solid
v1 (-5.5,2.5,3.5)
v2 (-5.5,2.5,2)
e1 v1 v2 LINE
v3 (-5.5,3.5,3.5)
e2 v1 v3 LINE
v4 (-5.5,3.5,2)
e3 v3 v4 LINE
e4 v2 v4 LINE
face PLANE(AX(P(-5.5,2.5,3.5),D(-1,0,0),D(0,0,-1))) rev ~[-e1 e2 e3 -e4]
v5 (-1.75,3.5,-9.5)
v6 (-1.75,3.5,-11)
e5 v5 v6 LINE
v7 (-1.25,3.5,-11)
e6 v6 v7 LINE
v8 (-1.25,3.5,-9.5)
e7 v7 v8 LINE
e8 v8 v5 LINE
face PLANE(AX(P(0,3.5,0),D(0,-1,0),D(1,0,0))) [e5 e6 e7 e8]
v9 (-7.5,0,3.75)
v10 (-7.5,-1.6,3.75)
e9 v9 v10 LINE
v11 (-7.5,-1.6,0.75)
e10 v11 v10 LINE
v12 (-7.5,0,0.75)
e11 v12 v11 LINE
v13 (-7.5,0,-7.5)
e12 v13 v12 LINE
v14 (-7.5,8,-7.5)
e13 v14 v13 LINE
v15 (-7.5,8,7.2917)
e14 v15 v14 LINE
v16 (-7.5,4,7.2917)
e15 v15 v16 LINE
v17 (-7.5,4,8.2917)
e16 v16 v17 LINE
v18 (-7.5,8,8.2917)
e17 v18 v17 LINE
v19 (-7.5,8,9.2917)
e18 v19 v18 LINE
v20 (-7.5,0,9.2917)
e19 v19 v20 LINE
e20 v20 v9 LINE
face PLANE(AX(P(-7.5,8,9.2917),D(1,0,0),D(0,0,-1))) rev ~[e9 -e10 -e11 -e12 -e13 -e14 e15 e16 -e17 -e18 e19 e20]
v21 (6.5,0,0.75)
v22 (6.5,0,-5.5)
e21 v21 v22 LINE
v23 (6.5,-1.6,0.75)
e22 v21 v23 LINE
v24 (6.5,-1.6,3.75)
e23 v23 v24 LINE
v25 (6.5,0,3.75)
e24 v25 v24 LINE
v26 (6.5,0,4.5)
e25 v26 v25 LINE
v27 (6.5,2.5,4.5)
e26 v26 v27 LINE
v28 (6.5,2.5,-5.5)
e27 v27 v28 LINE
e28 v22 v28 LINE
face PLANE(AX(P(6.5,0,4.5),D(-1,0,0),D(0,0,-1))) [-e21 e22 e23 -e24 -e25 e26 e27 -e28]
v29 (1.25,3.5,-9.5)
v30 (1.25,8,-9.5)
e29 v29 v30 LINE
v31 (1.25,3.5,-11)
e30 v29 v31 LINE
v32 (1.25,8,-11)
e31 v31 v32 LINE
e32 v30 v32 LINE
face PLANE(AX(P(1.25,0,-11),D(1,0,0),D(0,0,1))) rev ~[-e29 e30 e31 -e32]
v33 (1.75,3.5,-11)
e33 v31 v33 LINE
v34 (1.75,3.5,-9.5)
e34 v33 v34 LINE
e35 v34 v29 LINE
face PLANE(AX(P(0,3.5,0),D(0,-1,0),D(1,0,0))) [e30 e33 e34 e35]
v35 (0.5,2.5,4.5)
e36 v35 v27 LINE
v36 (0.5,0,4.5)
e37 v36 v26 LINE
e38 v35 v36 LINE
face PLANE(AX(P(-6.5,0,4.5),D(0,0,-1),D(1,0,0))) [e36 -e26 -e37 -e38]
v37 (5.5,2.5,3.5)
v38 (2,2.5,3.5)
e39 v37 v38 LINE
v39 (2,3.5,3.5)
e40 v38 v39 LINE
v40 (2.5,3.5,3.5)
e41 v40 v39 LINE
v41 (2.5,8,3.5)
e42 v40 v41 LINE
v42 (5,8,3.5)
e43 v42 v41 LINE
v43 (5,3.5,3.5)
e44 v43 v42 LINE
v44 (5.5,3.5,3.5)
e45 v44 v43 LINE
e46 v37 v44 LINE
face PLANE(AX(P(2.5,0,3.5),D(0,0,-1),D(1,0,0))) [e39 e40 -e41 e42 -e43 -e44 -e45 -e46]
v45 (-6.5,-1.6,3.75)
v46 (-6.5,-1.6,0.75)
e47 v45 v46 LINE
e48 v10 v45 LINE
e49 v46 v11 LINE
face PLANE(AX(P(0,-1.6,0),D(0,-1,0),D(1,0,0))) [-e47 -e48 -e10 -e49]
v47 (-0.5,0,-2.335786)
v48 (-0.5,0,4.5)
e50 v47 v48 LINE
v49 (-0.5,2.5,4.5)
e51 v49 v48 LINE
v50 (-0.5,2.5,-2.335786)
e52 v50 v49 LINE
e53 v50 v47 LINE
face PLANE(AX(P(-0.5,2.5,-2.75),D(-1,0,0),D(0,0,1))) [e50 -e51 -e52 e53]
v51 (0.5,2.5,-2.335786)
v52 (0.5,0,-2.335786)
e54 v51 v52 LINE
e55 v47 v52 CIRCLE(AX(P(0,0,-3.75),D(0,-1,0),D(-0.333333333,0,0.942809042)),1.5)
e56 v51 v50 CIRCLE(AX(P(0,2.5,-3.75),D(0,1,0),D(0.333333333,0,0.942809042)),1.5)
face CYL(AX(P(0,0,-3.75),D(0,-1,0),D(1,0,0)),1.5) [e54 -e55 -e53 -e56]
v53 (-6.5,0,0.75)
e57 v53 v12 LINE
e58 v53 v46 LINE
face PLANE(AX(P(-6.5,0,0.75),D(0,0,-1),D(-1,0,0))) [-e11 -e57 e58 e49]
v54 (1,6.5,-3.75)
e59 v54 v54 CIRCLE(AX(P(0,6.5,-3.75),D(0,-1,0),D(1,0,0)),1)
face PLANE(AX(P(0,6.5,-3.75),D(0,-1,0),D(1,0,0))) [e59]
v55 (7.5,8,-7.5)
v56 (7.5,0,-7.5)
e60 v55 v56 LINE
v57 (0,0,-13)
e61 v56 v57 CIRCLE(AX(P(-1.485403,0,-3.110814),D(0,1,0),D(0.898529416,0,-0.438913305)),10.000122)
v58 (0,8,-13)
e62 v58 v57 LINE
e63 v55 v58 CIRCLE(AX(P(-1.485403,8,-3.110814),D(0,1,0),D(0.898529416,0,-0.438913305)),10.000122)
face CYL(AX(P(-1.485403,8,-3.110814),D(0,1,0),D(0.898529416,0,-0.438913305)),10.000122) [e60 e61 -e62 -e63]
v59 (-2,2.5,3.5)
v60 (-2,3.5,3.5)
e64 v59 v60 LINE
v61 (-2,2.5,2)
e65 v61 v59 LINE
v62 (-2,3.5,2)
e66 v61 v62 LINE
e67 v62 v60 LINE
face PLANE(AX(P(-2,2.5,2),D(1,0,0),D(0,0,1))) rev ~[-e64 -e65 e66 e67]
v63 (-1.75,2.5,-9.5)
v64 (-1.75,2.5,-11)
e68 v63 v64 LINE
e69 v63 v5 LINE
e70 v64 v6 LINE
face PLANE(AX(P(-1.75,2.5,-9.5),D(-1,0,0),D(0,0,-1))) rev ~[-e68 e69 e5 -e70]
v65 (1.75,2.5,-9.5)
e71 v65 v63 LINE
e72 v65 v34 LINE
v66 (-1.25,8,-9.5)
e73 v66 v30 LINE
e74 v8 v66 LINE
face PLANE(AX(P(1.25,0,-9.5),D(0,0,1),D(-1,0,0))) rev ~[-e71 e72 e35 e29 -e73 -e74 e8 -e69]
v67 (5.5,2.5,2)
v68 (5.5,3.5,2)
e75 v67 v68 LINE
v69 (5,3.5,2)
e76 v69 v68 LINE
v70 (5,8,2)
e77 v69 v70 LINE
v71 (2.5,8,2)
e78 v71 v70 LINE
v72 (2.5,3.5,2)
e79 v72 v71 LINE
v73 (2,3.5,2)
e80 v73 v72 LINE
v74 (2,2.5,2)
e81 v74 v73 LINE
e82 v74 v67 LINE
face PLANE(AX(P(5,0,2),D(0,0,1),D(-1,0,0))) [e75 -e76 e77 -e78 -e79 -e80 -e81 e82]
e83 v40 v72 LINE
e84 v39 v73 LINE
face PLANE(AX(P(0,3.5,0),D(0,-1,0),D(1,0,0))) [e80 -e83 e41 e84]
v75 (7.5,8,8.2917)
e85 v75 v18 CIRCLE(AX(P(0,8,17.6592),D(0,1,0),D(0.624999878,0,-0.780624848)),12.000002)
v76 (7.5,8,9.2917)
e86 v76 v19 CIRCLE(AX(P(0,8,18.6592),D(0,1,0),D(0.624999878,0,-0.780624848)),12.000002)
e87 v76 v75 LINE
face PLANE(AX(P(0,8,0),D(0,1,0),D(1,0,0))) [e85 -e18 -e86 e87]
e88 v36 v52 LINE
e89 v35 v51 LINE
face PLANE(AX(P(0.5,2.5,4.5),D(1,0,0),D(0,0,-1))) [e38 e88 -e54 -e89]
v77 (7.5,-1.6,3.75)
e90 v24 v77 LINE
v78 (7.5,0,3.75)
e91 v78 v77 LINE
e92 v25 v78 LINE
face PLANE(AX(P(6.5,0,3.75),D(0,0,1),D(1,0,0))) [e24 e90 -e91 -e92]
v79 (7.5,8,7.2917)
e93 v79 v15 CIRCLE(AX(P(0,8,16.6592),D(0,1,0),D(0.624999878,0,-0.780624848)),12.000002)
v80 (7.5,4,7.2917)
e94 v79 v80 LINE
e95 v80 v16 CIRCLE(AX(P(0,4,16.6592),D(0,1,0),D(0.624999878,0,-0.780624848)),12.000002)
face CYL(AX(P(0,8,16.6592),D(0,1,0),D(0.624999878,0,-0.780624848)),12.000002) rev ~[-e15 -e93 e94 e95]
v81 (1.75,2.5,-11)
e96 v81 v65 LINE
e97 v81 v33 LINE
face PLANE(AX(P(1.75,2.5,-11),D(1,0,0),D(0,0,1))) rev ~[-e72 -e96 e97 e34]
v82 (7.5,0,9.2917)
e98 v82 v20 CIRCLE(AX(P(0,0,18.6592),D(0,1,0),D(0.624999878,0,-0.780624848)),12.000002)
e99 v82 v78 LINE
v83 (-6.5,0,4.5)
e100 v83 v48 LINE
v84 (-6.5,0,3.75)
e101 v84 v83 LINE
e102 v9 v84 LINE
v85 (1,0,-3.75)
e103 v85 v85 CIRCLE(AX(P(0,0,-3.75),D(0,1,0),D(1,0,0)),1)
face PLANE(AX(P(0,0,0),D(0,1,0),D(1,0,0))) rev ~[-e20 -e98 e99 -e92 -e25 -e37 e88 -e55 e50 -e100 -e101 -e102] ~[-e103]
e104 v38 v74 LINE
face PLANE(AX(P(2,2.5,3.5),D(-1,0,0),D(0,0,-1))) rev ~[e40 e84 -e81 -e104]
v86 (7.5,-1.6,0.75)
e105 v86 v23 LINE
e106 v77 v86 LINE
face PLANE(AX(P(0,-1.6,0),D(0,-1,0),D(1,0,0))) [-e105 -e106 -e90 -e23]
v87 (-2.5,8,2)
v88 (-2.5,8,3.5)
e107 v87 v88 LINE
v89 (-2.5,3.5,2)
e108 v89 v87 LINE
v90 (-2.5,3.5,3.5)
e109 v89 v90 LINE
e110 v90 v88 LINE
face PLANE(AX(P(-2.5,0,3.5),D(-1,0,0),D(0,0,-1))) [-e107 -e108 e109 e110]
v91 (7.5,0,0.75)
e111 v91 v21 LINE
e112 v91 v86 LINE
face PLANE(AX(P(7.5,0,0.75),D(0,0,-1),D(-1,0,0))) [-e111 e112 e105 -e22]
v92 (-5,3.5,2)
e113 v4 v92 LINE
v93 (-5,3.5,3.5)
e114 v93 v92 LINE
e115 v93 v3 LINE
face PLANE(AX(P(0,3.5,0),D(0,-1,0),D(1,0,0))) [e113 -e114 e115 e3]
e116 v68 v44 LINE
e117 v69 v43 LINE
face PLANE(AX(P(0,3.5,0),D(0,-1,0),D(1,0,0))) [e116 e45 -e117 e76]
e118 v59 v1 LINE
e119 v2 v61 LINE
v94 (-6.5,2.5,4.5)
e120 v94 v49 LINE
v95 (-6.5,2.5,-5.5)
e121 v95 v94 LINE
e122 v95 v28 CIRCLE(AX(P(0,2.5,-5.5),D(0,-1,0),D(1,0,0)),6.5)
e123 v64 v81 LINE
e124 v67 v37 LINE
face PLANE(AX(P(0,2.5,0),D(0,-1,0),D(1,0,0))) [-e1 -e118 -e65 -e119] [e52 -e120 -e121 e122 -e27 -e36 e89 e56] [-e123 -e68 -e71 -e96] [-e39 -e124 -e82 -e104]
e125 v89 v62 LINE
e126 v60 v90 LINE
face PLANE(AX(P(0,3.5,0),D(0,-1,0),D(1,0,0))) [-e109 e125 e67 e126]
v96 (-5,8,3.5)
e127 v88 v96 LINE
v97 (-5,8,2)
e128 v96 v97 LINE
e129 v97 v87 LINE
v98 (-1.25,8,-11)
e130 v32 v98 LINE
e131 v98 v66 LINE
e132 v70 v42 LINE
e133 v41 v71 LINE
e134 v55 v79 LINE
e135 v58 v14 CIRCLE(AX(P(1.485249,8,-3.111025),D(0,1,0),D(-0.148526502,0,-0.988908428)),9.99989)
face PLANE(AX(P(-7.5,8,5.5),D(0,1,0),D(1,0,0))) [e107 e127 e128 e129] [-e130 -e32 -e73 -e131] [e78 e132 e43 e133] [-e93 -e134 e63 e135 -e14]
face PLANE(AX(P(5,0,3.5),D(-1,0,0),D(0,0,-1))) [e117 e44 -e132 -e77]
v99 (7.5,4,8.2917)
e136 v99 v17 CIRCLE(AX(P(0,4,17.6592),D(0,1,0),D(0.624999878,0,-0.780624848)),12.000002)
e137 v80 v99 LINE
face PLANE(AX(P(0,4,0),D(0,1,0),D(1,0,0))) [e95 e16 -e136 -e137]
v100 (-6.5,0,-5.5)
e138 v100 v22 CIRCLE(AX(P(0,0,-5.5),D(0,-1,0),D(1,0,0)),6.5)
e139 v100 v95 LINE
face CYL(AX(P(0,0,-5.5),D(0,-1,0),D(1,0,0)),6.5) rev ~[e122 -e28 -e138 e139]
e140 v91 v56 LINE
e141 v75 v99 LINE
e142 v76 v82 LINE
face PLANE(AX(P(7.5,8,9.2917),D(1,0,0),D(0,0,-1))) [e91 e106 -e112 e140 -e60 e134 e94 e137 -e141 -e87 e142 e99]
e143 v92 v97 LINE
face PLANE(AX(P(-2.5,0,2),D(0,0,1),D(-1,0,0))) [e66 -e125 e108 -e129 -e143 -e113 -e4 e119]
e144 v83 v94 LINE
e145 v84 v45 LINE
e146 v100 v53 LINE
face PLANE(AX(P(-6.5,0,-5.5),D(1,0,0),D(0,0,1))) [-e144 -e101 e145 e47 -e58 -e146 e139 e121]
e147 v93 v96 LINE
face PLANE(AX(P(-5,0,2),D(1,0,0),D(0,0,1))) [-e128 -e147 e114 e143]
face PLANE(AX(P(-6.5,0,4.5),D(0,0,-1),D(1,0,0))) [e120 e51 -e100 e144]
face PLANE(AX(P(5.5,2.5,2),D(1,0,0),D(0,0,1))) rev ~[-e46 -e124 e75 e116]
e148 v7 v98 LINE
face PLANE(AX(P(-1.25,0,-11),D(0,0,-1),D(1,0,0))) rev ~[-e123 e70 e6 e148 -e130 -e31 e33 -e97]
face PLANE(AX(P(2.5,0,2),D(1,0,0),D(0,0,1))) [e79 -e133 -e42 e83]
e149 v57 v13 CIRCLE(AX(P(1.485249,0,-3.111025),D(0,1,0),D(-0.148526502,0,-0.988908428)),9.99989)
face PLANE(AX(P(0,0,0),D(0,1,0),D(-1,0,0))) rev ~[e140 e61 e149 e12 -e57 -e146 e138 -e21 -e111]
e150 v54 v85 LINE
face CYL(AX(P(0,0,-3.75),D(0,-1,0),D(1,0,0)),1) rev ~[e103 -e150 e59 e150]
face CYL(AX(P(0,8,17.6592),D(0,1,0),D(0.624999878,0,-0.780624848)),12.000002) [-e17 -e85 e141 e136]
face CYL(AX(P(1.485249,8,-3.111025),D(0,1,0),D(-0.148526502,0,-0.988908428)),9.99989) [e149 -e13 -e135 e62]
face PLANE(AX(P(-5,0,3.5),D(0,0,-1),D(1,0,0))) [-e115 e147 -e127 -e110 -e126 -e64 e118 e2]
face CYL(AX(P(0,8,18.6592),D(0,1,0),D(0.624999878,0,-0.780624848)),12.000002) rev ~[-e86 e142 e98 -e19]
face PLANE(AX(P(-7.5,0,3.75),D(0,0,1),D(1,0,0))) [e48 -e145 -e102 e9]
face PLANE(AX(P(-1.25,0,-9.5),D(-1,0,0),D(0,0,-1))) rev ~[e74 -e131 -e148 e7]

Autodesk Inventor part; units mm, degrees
ref_plane "YZ Plane" through (0, 0, 0) normal (1, 0, 0) x (0, 1, 0)
ref_plane "XZ Plane" through (0, 0, 0) normal (0, 1, 0) x (-1, 0, 0)
ref_plane "XY Plane" through (0, 0, 0) normal (0, 0, 1) x (1, 0, 0)
sketch "Sketch1" plane through (0, 0, 0) normal (0, 1, 0) x (-1, 0, 0)
  line L0 (-7.5, 5.5) -> (7.5, 5.5)
  line L1 (7.5, 5.5) -> (7.5, -5.5)
  line L2 (7.5, -5.5) -> (-7.5, -5.5)
  line L3 (-7.5, -5.5) -> (-7.5, 5.5)
  line L4 (-7.5, 5.5) -> (7.5, -5.5) construction
  line L5 (7.5, 5.5) -> (-7.5, -5.5) construction
  circle A0 centre (0, -5.5) radius 7.5 construction
  arc A1 (-7.5, -5.5) -> (7.5, -5.5) centre (0, -5.5) ccw
  point P0 (0, 0)
  dimension "d0" = 11
  dimension "d1" = 15
extrude "Extrusion1" add sketch "Sketch1" along normal blind 8
sketch "Sketch2" plane through (0, 0, 0) normal (0, -1, 0) x (1, 0, 0)
  line L0 (7.5, 9.25) -> (-7.5, 9.25)
  line L1 (-7.5, 9.25) -> (-7.5, -20.75)
  line L2 (-7.5, -20.75) -> (7.5, -20.75)
  line L3 (7.5, -20.75) -> (7.5, 9.25)
  line L4 (7.5, 9.25) -> (-7.5, -20.75) construction
  line L5 (-7.5, 9.25) -> (7.5, -20.75) construction
  line L6 (-7.5, 5.5) -> (7.5, 5.5) projected
  line L7 (7, 8.75) -> (-7, 8.75) construction
  line L8 (-7, 8.75) -> (-7, -20.25) construction
  line L9 (-7, -20.25) -> (7, -20.25) construction
  line L10 (7, -20.25) -> (7, 8.75) construction
  line L11 (7, 8.75) -> (-7, -20.25) construction
  line L12 (-7, 8.75) -> (7, -20.25) construction
  point P0 (0, 0)
  point P1 (0, -5.75)
  dimension "d4" = 15
  dimension "d5" = 30
  dimension "d6" = 3.75
  dimension "d18" = 0.5
  dimension "d19" = 0.5
sketch "Sketch4" plane through (0, 0, 0) normal (0, -1, 0) x (1, 0, 0)
  line L0 (-7.5, -5.5) -> (-7.5, 5.5) projected
  line L1 (-7.5, 3.75) -> (-6.5, 3.75)
  line L2 (-6.5, 3.75) -> (-6.5, 0.75)
  line L3 (-6.5, 0.75) -> (-7.5, 0.75)
  line L4 (-7.5, 0.75) -> (-7.5, 3.75)
  line L5 (7.5, 5.5) -> (7.5, -5.5) projected
  line L6 (7.5, 0.75) -> (6.5, 0.75)
  line L7 (6.5, 0.75) -> (6.5, 3.75)
  line L8 (6.5, 3.75) -> (7.5, 3.75)
  line L9 (7.5, 3.75) -> (7.5, 0.75)
  line L10 (-7.5, -20.25) -> (7.5, -20.25) construction
  line L11 (7.5, -20.25) -> (7.5, 9.75) construction
  line L12 (7.5, 9.75) -> (-7.5, 9.75) construction
  line L13 (-7.5, 9.75) -> (-7.5, -20.25) construction
  line L14 (-7.5, -20.25) -> (7.5, 9.75) construction
  line L15 (7.5, -20.25) -> (-7.5, 9.75) construction
  line L16 (-7.5, 5.5) -> (7.5, 5.5) construction
  arc A0 (-7.5, -5.5) -> (7.5, -5.5) centre (0, -5.5) ccw construction
  point P0 (0, 0)
  point P1 (0, -5.25)
  point P2 (0, -13)
  point P3 (-7, 3.75)
  point P4 (-7.5, 0.75)
  point P5 (-7, 0.75)
  point P6 (7.5, 3.75)
  point P7 (-7.5, 0.75)
  dimension "d20" = 1
  dimension "d21" = 3
  dimension "d22" = 1
  dimension "d23" = 3
  dimension "d24" = 15
  dimension "d25" = 30
  dimension "d27" = 7.25
  dimension "d106" = 0.75
extrude "Extrusion3" add sketch "Sketch4" along normal blind 1.6
sketch "Sketch6" plane through (0, 0, 0) normal (0, -1, 0) x (1, 0, 0)
  line L0 (7.5, 11.25) -> (-7.5, 11.25)
  line L1 (-7.5, 11.25) -> (-7.5, -18.75)
  line L2 (-7.5, -18.75) -> (7.5, -18.75)
  line L3 (7.5, -18.75) -> (7.5, 11.25)
  line L4 (7.5, 11.25) -> (-7.5, -18.75) construction
  line L5 (-7.5, 11.25) -> (7.5, -18.75) construction
  line L6 (7, 10.75) -> (-7, 10.75) construction
  line L7 (-7, 10.75) -> (-7, -18.25) construction
  line L8 (-7, -18.25) -> (7, -18.25) construction
  line L9 (7, -18.25) -> (7, 10.75) construction
  line L10 (7, 10.75) -> (-7, -18.25) construction
  line L11 (-7, 10.75) -> (7, -18.25) construction
  circle A0 centre (0, -3.75) radius 1
  circle A1 centre (0, -3.75) radius 1.5
  line L12 (-6.5, 4.5) -> (6.5, 4.5)
  line L13 (6.5, 4.5) -> (6.5, -5.5)
  line L14 (6.5, -5.5) -> (-6.5, -5.5)
  line L15 (-6.5, -5.5) -> (-6.5, 4.5)
  line L16 (-7.5, 5.5) -> (7.5, 5.5) projected
  arc A2 (-7.5, -5.5) -> (7.5, -5.5) centre (0, -5.5) ccw projected
  circle A3 centre (0, -5.5) radius 6.5
  point P0 (0, 0)
  point P1 (-7.5, -3.75)
  point P2 (6.5, -5.5)
  dimension "d31" = 15
  dimension "d32" = 30
  dimension "d34" = 0.5
  dimension "d35" = 0.5
  dimension "d36" = 2
  dimension "d37" = 0.5
  dimension "d38" = 1
  dimension "d39" = 1
  dimension "d40" = 1
  dimension "d41" = 1
  dimension "d107" = 3.75
extrude "Extrusion4" cut sketch "Sketch6" against normal blind 2.5 contours A0 | L12 L13 A3 L15 | A3 L14 | L14 A3
sketch "Sketch10" plane through (0, 8, 0) normal (0, 1, 0) x (1, 0, 0)
  point P0 (0, 0)
sketch "Sketch11" plane through (0, 0, 0) normal (0, -1, 0) x (1, 0, 0)
  line L0 (-5, 3.5) -> (-2.5, 3.5)
  line L1 (-2.5, 3.5) -> (-2.5, 2)
  line L2 (-2.5, 2) -> (-5, 2)
  line L3 (-5, 2) -> (-5, 3.5)
  line L4 (2.5, 3.5) -> (5, 3.5)
  line L5 (5, 3.5) -> (5, 2)
  line L6 (5, 2) -> (2.5, 2)
  line L7 (2.5, 2) -> (2.5, 3.5)
  line L8 (-6.5, 3.75) -> (-7.5, 3.75) projected
  line L9 (-6.5, 0.75) -> (-6.5, 3.75) projected
  line L10 (6.5, 3.75) -> (6.5, 0.75) projected
  line L11 (-6.5, 4.5) -> (6.5, 4.5) projected
  line L12 (-1.25, -11) -> (1.25, -11)
  line L13 (1.25, -11) -> (1.25, -9.5)
  line L14 (1.25, -9.5) -> (-1.25, -9.5)
  line L15 (-1.25, -9.5) -> (-1.25, -11)
  circle A0 centre (0, -3.75) radius 1 projected
  point P0 (0, 0)
  point P1 (-3.75, 3.5)
  point P2 (3.75, 3.5)
  point P3 (1.25, -10.25)
  point P4 (2.5, 2.75)
  point P5 (0, -9.5)
  point P6 (3.75, 2)
  point P7 (-2.5, 2.75)
  dimension "d51" = 2.5
  dimension "d52" = 1.5
  dimension "d55" = 2.75
  dimension "d56" = 2.75
  dimension "d60" = 13
  dimension "d61" = 3.75
  dimension "d62" = 3.75
  dimension "d103" = 6.5
  dimension "d104" = 6.5
extrude "Extrusion8" cut sketch "Sketch11" against normal blind 10 contours L0 L1 L2 L3 | L4 L5 L6 L7 | L15 L14 L13 L12
sketch "Sketch12" plane through (0, 2.5, 0) normal (0, -1, 0) x (1, 0, 0)
  line L0 (5, 2) -> (5, 3.5) construction
  line L1 (2.5, 2) -> (5, 2) construction
  line L2 (5, 3.5) -> (2.5, 3.5) construction
  line L3 (2.5, 3.5) -> (2.5, 2) construction
  line L4 (2.5, 2) -> (5, 2) construction
  line L5 (5, 2) -> (5, 3.5) construction
  line L6 (-2.5, 2) -> (-2.5, 3.5) construction
  line L7 (-2.5, 2) -> (-5, 2) construction
  line L8 (-2.5, 3.5) -> (-5, 3.5) construction
  line L9 (-5, 3.5) -> (-5, 2) construction
  line L10 (-5, 2) -> (-2.5, 2) construction
  line L11 (-2.5, 2) -> (-2.5, 3.5) construction
  line L12 (-1.25, -9.5) -> (1.25, -9.5) construction
  line L13 (-1.25, -9.5) -> (-1.25, -11) construction
  line L14 (1.25, -9.5) -> (-1.25, -9.5) construction
  line L15 (-1.25, -9.5) -> (-1.25, -11) construction
  line L16 (-1.25, -11) -> (1.25, -11) construction
  line L17 (1.25, -11) -> (1.25, -9.5) construction
  line L18 (5.5, 3.5) -> (2, 3.5)
  line L19 (2, 3.5) -> (2, 2)
  line L20 (2, 2) -> (5.5, 2)
  line L21 (5.5, 2) -> (5.5, 3.5)
  line L22 (1.75, -9.5) -> (-1.75, -9.5)
  line L23 (-1.75, -9.5) -> (-1.75, -11)
  line L24 (-1.75, -11) -> (1.75, -11)
  line L25 (1.75, -11) -> (1.75, -9.5)
  line L26 (-2, 3.5) -> (-5.5, 3.5)
  line L27 (-5.5, 3.5) -> (-5.5, 2)
  line L28 (-5.5, 2) -> (-2, 2)
  line L29 (-2, 2) -> (-2, 3.5)
  point P0 (0, 0)
  point P1 (-2.5, 2.75)
  point P2 (-2, 2.75)
  point P3 (-3.75, 2)
  point P4 (-3.75, 2)
  point P5 (-3.75, 3.5)
  point P6 (-3.75, 3.5)
  point P7 (-5, 2.75)
  point P8 (-5.5, 2.75)
  point P9 (1.25, -10.25)
  point P10 (1.75, -10.25)
  point P11 (0, -11)
  point P12 (-1.25, -10.25)
  dimension "d63" = 0.5
  dimension "d64" = 0
  dimension "d65" = 0
  dimension "d67" = 0.5
  dimension "d68" = 0
  dimension "d69" = 0
  dimension "d70" = 0.5
  dimension "d71" = 0.5
  dimension "d72" = 0
  dimension "d73" = 0
  dimension "d74" = 0.5
  dimension "d96" = 0.5
extrude "Extrusion9" cut sketch "Sketch12" against normal blind 1
sketch "Sketch16" plane through (0, 2.5, 0) normal (0, -1, 0) x (1, 0, 0)
  line L0 (-6.5, -5.5) -> (-6.5, 4.5) construction
  line L1 (-6.5, 4.5) -> (6.5, 4.5) construction
  line L2 (-6.5, 4.5) -> (6.5, 4.5) construction
  line L3 (-0.5, 4.5) -> (0.5, 4.5)
  line L4 (0.5, 4.5) -> (0.5, -2.75)
  line L5 (0.5, -2.75) -> (-0.5, -2.75)
  line L6 (-0.5, -2.75) -> (-0.5, 4.5)
  circle A0 centre (0, -3.75) radius 1.5 construction
  circle A1 centre (0, -3.75) radius 1.75 construction
  line L7 (-6.5, -2.75) -> (6.5174, -2.75) construction
  circle A2 centre (0, -3.75) radius 1.5 construction
  circle A3 centre (0, -3.75) radius 1 construction
  line L8 (6.5, 0.75) -> (6.5, -5.5) projected
  line L9 (-6.5, -5.873) -> (6.5, -5.873)
  line L10 (6.5, -5.873) -> (6.5, -6.873)
  line L11 (6.5, -6.873) -> (-6.5, -6.873)
  line L12 (-6.5, -6.873) -> (-6.5, -5.873)
  point P0 (0, 0)
  point P1 (0, 4.5)
  point P2 (0.0087, -2.75)
  dimension "d94" = 1
  dimension "d95" = 1
extrude "Extrusion10" add sketch "Sketch16" along normal blind 2.5 contours L3 L4 L5 L6
sketch "Sketch19" plane through (-7.5, 0, 5.5) normal (0, 0, 1) x (1, 0, 0)
  line L0 (15, 0) -> (15, 8) projected
  line L1 (0, 8) -> (15, 8)
  line L2 (15, 8) -> (15, 0)
  line L3 (15, 0) -> (0, 0)
  line L4 (0, 0) -> (0, 8)
  point P0 (7.5, 0)
extrude "Extrusion13" add sketch "Sketch19" along normal blind 6
sketch "Sketch18" plane through (0, 8, 0) normal (0, 1, 0) x (1, 0, 0)
  line L0 (-7.5, -3.75) -> (-7.5, -5.5) projected
  line L1 (-7.5, -5.5) -> (-7.5, -8.2917)
  line L2 (7.5, -5.5) -> (7.5, -8.2917)
  arc A0 (7.5, -8.2917) -> (-7.5, -8.2917) centre (0, -17.6592) ccw
  line L3 (-7.5, -5.5) -> (0, -3.75)
  line L4 (-7.5, -5.5) -> (7.5, -5.5) projected
  line L5 (0, -3.75) -> (7.5, -5.5)
  line L6 (-7.5, -8.2917) -> (-7.5, -17.8663)
  line L7 (-7.5, -17.8663) -> (8.2387, -17.8663)
  line L8 (8.2387, -17.8663) -> (7.5, -8.2917)
  line L9 (-7.5, -8.2917) -> (-7.5, -5.5)
  point P0 (0, 0)
  point P1 (3.395, -5.5)
  point P2 (-3.395, -5.5)
  dimension "d108" = 12
extrude "Extrusion12" cut sketch "Sketch18" against normal blind 8 contours A0 L8 L7 L6
sketch "Sketch21" plane through (0, 8, 0) normal (0, 1, 0) x (1, 0, 0)
  line L0 (-7.5, 5.5) -> (-7.5, -8.2917) projected
  line L1 (-7.5, 5.5) -> (-4.5586, 5.5)
  line L2 (-4.5586, 5.5) -> (-4.5586, 13.4633)
  line L3 (-4.5586, 13.4633) -> (-7.5, 13.4633)
  line L4 (-7.5, 13.4633) -> (-7.5, 5.5)
  arc A0 (7.5, 5.5) -> (-7.5, 5.5) centre (0, 5.5) ccw projected
  line L5 (7.5, 5.5) -> (3.8632, 5.5)
  line L6 (3.8632, 5.5) -> (3.8632, 13.1156)
  line L7 (3.8632, 13.1156) -> (7.5, 13.1156)
  line L8 (7.5, 13.1156) -> (7.5, 5.5)
  point P0 (0, 0)
  point P1 (3.8632, 11.9285)
  point P2 (-4.5586, 11.4556)
  point P3 (-7.5, -5.5)
extrude "Extrusion15" add sketch "Sketch21" against normal blind 8 contours L6 L7 L8 A0 | L4 L3 L2 A0
sketch "Sketch20" plane through (0, 8, 0) normal (0, 1, 0) x (1, 0, 0)
  arc A0 (7.5, 5.5) -> (-7.5, 5.5) centre (0, 5.5) ccw projected
  line L0 (-7.5, 5.5) -> (-7.5, 7.5)
  line L1 (7.5, 5.5) -> (7.5, 7.5)
  arc A1 (0, 13) -> (-7.5, 7.5) centre (1.4853, 3.1109) ccw
  arc A2 (7.5, 7.5) -> (0, 13) centre (-1.4853, 3.1109) ccw
  line L2 (-7.5, 7.5) -> (-7.5, 19.3065)
  line L3 (-7.5, 7.5) -> (4.3065, 7.5) construction
  line L4 (-7.5, 19.3065) -> (7.5, 19.3065)
  line L5 (7.5, 19.3065) -> (7.5, 7.5)
  point P0 (0, 0)
  point P1 (-6.7259, 8.8184)
  point P2 (6.7259, 8.8184)
  dimension "d113" = 2
  dimension "d114" = 10
  dimension "d115" = 90
  dimension "d116" = 90
extrude "Extrusion14" cut sketch "Sketch20" against normal blind 10 contours A2 A0 | A0 A1 L2 L4 L5 A2 | A1 A0
sketch "Sketch22" plane through (0, 8, 0) normal (0, 1, 0) x (1, 0, 0)
  line L0 (7.5, 7.5) -> (7.5, -8.2917) projected
  line L1 (-7.5, 7.5) -> (-7.5, -8.2917) projected
  arc A0 (7.5, -7.2917) -> (-7.5, -7.2917) centre (0, -16.6592) ccw
  line L2 (-7.5, -7.2917) -> (7.5, -7.2917) construction
  line L3 (-7.5, -7.2917) -> (7.5, -7.2917) construction
  arc A1 (7.5, -8.2917) -> (-7.5, -8.2917) centre (0, -17.6592) ccw projected
  arc A2 (7.5, -9.2917) -> (-7.5, -9.2917) centre (0, -18.6592) ccw
  line L4 (-7.5, -9.2917) -> (7.5, -9.2917) construction
  line L5 (-7.5, -9.2917) -> (7.5, -9.2917) construction
  arc A3 (0, 13) -> (-7.5, 7.5) centre (1.4853, 3.1109) ccw projected
  line L6 (-7.5, -9.2917) -> (-7.5, -8.2917)
  line L7 (7.5, -9.2917) -> (7.5, -8.2917)
  arc A4 (7.5, -8.2917) -> (-7.5, -8.2917) centre (0, -17.6592) ccw
  line L8 (7.5, -7.2917) -> (7.5, -8.2917)
  line L9 (-7.5, -7.2917) -> (-7.5, -8.2917)
  point P0 (0, 0)
  point P1 (0, -4.6592)
  point P2 (0, -5.6592)
  point P3 (0, -6.6592)
  point P4 (0, -5.6592)
  dimension "d121" = 0
  dimension "d122" = 1
  dimension "d123" = 1
  dimension "d124" = 0
  dimension "d132" = 1
  dimension "d133" = 1
extrude "Extrusion16" cut sketch "Sketch22" against normal blind 4 contours L0 A1 L1 A0
sketch "Sketch23" plane through (0, 8, 0) normal (0, 1, 0) x (1, 0, 0)
  arc A0 (7.5, -7.2917) -> (-7.5, -7.2917) centre (0, -16.6592) ccw
  line L0 (-7.5, -7.2917) -> (7.5, -7.2917) construction
  line L1 (-7.5, -7.2917) -> (7.5, -7.2917) construction
  arc A1 (7.5, -9.2917) -> (-7.5, -9.2917) centre (0, -18.6592) ccw
  line L2 (-7.5, -9.2917) -> (7.5, -9.2917) construction
  line L3 (-7.5, -9.2917) -> (7.5, -9.2917) construction
  line L4 (-7.5, -9.2917) -> (-7.5, -8.2917)
  line L5 (7.5, -9.2917) -> (7.5, -8.2917)
  arc A2 (7.5, -8.2917) -> (-7.5, -8.2917) centre (0, -17.6592) ccw
  line L6 (7.5, -7.2917) -> (7.5, -8.2917)
  line L7 (-7.5, -7.2917) -> (-7.5, -8.2917)
  point P0 (0, 0)
  point P1 (0, -4.6592)
  point P2 (0, -5.6592)
  point P3 (0, -6.6592)
  point P4 (0, -5.6592)
  dimension "d134" = 0
  dimension "d135" = 1
  dimension "d136" = 1
  dimension "d137" = 0
  dimension "d138" = 1
  dimension "d139" = 1
extrude "Extrusion17" add sketch "Sketch23" against normal blind 8 contours L5 A1 L4 A2
sketch "Sketch24" plane through (0, 2.5, -3.75) normal (0, -1, 0) x (1, 0, 0)
  circle A0 centre (0, 0) radius 1 projected
  circle A1 centre (0, 0) radius 1
  point P0 (0, 3.75)
extrude "Extrusion18" cut sketch "Sketch24" against normal blind 4
sketch "Sketch14" plane through (0, 2.5, 0) normal (0, -1, 0) x (1, 0, 0)
  line L0 (5, 2.75) -> (2.5, 2.75) construction
  line L1 (2.5, 2.75) -> (2.5, 1.25) construction
  line L2 (2.5, 1.25) -> (5, 1.25) construction
  line L3 (5, 1.25) -> (5, 2.75) construction
  line L4 (5.5, 3.25) -> (2, 3.25)
  line L5 (2, 3.25) -> (2, 0.75)
  line L6 (2, 0.75) -> (5.5, 0.75)
  line L7 (5.5, 0.75) -> (5.5, 3.25)
  dimension "d86" = 0.5
  dimension "d87" = 0.5
sketch "Sketch15" plane through (0, 3.5, 0) normal (0, -1, 0) x (1, 0, 0)
  line L0 (5, 2.75) -> (2.5, 2.75)
  line L1 (2.5, 2.75) -> (2.5, 1.25)
  line L2 (2.5, 1.25) -> (5, 1.25)
  line L3 (5, 1.25) -> (5, 2.75)
  point P0 (0, 0)
sketch "Sketch8" plane through (0, 0, -3.75) normal (0, -1, 0) x (1, 0, 0)
  circle A0 centre (0, 0) radius 1.75
  circle A1 centre (0, 0) radius 1.5 projected
  circle A2 centre (0, 0) radius 1.5
  point P0 (0, 3.75)
  dimension "d46" = 0.25
sketch "Sketch7" plane through (0, 2.5, -3.75) normal (0, -1, 0) x (1, 0, 0)
  circle A0 centre (0, 0) radius 1.25
  point P0 (0, 3.75)
properties part number "XORGATE"
